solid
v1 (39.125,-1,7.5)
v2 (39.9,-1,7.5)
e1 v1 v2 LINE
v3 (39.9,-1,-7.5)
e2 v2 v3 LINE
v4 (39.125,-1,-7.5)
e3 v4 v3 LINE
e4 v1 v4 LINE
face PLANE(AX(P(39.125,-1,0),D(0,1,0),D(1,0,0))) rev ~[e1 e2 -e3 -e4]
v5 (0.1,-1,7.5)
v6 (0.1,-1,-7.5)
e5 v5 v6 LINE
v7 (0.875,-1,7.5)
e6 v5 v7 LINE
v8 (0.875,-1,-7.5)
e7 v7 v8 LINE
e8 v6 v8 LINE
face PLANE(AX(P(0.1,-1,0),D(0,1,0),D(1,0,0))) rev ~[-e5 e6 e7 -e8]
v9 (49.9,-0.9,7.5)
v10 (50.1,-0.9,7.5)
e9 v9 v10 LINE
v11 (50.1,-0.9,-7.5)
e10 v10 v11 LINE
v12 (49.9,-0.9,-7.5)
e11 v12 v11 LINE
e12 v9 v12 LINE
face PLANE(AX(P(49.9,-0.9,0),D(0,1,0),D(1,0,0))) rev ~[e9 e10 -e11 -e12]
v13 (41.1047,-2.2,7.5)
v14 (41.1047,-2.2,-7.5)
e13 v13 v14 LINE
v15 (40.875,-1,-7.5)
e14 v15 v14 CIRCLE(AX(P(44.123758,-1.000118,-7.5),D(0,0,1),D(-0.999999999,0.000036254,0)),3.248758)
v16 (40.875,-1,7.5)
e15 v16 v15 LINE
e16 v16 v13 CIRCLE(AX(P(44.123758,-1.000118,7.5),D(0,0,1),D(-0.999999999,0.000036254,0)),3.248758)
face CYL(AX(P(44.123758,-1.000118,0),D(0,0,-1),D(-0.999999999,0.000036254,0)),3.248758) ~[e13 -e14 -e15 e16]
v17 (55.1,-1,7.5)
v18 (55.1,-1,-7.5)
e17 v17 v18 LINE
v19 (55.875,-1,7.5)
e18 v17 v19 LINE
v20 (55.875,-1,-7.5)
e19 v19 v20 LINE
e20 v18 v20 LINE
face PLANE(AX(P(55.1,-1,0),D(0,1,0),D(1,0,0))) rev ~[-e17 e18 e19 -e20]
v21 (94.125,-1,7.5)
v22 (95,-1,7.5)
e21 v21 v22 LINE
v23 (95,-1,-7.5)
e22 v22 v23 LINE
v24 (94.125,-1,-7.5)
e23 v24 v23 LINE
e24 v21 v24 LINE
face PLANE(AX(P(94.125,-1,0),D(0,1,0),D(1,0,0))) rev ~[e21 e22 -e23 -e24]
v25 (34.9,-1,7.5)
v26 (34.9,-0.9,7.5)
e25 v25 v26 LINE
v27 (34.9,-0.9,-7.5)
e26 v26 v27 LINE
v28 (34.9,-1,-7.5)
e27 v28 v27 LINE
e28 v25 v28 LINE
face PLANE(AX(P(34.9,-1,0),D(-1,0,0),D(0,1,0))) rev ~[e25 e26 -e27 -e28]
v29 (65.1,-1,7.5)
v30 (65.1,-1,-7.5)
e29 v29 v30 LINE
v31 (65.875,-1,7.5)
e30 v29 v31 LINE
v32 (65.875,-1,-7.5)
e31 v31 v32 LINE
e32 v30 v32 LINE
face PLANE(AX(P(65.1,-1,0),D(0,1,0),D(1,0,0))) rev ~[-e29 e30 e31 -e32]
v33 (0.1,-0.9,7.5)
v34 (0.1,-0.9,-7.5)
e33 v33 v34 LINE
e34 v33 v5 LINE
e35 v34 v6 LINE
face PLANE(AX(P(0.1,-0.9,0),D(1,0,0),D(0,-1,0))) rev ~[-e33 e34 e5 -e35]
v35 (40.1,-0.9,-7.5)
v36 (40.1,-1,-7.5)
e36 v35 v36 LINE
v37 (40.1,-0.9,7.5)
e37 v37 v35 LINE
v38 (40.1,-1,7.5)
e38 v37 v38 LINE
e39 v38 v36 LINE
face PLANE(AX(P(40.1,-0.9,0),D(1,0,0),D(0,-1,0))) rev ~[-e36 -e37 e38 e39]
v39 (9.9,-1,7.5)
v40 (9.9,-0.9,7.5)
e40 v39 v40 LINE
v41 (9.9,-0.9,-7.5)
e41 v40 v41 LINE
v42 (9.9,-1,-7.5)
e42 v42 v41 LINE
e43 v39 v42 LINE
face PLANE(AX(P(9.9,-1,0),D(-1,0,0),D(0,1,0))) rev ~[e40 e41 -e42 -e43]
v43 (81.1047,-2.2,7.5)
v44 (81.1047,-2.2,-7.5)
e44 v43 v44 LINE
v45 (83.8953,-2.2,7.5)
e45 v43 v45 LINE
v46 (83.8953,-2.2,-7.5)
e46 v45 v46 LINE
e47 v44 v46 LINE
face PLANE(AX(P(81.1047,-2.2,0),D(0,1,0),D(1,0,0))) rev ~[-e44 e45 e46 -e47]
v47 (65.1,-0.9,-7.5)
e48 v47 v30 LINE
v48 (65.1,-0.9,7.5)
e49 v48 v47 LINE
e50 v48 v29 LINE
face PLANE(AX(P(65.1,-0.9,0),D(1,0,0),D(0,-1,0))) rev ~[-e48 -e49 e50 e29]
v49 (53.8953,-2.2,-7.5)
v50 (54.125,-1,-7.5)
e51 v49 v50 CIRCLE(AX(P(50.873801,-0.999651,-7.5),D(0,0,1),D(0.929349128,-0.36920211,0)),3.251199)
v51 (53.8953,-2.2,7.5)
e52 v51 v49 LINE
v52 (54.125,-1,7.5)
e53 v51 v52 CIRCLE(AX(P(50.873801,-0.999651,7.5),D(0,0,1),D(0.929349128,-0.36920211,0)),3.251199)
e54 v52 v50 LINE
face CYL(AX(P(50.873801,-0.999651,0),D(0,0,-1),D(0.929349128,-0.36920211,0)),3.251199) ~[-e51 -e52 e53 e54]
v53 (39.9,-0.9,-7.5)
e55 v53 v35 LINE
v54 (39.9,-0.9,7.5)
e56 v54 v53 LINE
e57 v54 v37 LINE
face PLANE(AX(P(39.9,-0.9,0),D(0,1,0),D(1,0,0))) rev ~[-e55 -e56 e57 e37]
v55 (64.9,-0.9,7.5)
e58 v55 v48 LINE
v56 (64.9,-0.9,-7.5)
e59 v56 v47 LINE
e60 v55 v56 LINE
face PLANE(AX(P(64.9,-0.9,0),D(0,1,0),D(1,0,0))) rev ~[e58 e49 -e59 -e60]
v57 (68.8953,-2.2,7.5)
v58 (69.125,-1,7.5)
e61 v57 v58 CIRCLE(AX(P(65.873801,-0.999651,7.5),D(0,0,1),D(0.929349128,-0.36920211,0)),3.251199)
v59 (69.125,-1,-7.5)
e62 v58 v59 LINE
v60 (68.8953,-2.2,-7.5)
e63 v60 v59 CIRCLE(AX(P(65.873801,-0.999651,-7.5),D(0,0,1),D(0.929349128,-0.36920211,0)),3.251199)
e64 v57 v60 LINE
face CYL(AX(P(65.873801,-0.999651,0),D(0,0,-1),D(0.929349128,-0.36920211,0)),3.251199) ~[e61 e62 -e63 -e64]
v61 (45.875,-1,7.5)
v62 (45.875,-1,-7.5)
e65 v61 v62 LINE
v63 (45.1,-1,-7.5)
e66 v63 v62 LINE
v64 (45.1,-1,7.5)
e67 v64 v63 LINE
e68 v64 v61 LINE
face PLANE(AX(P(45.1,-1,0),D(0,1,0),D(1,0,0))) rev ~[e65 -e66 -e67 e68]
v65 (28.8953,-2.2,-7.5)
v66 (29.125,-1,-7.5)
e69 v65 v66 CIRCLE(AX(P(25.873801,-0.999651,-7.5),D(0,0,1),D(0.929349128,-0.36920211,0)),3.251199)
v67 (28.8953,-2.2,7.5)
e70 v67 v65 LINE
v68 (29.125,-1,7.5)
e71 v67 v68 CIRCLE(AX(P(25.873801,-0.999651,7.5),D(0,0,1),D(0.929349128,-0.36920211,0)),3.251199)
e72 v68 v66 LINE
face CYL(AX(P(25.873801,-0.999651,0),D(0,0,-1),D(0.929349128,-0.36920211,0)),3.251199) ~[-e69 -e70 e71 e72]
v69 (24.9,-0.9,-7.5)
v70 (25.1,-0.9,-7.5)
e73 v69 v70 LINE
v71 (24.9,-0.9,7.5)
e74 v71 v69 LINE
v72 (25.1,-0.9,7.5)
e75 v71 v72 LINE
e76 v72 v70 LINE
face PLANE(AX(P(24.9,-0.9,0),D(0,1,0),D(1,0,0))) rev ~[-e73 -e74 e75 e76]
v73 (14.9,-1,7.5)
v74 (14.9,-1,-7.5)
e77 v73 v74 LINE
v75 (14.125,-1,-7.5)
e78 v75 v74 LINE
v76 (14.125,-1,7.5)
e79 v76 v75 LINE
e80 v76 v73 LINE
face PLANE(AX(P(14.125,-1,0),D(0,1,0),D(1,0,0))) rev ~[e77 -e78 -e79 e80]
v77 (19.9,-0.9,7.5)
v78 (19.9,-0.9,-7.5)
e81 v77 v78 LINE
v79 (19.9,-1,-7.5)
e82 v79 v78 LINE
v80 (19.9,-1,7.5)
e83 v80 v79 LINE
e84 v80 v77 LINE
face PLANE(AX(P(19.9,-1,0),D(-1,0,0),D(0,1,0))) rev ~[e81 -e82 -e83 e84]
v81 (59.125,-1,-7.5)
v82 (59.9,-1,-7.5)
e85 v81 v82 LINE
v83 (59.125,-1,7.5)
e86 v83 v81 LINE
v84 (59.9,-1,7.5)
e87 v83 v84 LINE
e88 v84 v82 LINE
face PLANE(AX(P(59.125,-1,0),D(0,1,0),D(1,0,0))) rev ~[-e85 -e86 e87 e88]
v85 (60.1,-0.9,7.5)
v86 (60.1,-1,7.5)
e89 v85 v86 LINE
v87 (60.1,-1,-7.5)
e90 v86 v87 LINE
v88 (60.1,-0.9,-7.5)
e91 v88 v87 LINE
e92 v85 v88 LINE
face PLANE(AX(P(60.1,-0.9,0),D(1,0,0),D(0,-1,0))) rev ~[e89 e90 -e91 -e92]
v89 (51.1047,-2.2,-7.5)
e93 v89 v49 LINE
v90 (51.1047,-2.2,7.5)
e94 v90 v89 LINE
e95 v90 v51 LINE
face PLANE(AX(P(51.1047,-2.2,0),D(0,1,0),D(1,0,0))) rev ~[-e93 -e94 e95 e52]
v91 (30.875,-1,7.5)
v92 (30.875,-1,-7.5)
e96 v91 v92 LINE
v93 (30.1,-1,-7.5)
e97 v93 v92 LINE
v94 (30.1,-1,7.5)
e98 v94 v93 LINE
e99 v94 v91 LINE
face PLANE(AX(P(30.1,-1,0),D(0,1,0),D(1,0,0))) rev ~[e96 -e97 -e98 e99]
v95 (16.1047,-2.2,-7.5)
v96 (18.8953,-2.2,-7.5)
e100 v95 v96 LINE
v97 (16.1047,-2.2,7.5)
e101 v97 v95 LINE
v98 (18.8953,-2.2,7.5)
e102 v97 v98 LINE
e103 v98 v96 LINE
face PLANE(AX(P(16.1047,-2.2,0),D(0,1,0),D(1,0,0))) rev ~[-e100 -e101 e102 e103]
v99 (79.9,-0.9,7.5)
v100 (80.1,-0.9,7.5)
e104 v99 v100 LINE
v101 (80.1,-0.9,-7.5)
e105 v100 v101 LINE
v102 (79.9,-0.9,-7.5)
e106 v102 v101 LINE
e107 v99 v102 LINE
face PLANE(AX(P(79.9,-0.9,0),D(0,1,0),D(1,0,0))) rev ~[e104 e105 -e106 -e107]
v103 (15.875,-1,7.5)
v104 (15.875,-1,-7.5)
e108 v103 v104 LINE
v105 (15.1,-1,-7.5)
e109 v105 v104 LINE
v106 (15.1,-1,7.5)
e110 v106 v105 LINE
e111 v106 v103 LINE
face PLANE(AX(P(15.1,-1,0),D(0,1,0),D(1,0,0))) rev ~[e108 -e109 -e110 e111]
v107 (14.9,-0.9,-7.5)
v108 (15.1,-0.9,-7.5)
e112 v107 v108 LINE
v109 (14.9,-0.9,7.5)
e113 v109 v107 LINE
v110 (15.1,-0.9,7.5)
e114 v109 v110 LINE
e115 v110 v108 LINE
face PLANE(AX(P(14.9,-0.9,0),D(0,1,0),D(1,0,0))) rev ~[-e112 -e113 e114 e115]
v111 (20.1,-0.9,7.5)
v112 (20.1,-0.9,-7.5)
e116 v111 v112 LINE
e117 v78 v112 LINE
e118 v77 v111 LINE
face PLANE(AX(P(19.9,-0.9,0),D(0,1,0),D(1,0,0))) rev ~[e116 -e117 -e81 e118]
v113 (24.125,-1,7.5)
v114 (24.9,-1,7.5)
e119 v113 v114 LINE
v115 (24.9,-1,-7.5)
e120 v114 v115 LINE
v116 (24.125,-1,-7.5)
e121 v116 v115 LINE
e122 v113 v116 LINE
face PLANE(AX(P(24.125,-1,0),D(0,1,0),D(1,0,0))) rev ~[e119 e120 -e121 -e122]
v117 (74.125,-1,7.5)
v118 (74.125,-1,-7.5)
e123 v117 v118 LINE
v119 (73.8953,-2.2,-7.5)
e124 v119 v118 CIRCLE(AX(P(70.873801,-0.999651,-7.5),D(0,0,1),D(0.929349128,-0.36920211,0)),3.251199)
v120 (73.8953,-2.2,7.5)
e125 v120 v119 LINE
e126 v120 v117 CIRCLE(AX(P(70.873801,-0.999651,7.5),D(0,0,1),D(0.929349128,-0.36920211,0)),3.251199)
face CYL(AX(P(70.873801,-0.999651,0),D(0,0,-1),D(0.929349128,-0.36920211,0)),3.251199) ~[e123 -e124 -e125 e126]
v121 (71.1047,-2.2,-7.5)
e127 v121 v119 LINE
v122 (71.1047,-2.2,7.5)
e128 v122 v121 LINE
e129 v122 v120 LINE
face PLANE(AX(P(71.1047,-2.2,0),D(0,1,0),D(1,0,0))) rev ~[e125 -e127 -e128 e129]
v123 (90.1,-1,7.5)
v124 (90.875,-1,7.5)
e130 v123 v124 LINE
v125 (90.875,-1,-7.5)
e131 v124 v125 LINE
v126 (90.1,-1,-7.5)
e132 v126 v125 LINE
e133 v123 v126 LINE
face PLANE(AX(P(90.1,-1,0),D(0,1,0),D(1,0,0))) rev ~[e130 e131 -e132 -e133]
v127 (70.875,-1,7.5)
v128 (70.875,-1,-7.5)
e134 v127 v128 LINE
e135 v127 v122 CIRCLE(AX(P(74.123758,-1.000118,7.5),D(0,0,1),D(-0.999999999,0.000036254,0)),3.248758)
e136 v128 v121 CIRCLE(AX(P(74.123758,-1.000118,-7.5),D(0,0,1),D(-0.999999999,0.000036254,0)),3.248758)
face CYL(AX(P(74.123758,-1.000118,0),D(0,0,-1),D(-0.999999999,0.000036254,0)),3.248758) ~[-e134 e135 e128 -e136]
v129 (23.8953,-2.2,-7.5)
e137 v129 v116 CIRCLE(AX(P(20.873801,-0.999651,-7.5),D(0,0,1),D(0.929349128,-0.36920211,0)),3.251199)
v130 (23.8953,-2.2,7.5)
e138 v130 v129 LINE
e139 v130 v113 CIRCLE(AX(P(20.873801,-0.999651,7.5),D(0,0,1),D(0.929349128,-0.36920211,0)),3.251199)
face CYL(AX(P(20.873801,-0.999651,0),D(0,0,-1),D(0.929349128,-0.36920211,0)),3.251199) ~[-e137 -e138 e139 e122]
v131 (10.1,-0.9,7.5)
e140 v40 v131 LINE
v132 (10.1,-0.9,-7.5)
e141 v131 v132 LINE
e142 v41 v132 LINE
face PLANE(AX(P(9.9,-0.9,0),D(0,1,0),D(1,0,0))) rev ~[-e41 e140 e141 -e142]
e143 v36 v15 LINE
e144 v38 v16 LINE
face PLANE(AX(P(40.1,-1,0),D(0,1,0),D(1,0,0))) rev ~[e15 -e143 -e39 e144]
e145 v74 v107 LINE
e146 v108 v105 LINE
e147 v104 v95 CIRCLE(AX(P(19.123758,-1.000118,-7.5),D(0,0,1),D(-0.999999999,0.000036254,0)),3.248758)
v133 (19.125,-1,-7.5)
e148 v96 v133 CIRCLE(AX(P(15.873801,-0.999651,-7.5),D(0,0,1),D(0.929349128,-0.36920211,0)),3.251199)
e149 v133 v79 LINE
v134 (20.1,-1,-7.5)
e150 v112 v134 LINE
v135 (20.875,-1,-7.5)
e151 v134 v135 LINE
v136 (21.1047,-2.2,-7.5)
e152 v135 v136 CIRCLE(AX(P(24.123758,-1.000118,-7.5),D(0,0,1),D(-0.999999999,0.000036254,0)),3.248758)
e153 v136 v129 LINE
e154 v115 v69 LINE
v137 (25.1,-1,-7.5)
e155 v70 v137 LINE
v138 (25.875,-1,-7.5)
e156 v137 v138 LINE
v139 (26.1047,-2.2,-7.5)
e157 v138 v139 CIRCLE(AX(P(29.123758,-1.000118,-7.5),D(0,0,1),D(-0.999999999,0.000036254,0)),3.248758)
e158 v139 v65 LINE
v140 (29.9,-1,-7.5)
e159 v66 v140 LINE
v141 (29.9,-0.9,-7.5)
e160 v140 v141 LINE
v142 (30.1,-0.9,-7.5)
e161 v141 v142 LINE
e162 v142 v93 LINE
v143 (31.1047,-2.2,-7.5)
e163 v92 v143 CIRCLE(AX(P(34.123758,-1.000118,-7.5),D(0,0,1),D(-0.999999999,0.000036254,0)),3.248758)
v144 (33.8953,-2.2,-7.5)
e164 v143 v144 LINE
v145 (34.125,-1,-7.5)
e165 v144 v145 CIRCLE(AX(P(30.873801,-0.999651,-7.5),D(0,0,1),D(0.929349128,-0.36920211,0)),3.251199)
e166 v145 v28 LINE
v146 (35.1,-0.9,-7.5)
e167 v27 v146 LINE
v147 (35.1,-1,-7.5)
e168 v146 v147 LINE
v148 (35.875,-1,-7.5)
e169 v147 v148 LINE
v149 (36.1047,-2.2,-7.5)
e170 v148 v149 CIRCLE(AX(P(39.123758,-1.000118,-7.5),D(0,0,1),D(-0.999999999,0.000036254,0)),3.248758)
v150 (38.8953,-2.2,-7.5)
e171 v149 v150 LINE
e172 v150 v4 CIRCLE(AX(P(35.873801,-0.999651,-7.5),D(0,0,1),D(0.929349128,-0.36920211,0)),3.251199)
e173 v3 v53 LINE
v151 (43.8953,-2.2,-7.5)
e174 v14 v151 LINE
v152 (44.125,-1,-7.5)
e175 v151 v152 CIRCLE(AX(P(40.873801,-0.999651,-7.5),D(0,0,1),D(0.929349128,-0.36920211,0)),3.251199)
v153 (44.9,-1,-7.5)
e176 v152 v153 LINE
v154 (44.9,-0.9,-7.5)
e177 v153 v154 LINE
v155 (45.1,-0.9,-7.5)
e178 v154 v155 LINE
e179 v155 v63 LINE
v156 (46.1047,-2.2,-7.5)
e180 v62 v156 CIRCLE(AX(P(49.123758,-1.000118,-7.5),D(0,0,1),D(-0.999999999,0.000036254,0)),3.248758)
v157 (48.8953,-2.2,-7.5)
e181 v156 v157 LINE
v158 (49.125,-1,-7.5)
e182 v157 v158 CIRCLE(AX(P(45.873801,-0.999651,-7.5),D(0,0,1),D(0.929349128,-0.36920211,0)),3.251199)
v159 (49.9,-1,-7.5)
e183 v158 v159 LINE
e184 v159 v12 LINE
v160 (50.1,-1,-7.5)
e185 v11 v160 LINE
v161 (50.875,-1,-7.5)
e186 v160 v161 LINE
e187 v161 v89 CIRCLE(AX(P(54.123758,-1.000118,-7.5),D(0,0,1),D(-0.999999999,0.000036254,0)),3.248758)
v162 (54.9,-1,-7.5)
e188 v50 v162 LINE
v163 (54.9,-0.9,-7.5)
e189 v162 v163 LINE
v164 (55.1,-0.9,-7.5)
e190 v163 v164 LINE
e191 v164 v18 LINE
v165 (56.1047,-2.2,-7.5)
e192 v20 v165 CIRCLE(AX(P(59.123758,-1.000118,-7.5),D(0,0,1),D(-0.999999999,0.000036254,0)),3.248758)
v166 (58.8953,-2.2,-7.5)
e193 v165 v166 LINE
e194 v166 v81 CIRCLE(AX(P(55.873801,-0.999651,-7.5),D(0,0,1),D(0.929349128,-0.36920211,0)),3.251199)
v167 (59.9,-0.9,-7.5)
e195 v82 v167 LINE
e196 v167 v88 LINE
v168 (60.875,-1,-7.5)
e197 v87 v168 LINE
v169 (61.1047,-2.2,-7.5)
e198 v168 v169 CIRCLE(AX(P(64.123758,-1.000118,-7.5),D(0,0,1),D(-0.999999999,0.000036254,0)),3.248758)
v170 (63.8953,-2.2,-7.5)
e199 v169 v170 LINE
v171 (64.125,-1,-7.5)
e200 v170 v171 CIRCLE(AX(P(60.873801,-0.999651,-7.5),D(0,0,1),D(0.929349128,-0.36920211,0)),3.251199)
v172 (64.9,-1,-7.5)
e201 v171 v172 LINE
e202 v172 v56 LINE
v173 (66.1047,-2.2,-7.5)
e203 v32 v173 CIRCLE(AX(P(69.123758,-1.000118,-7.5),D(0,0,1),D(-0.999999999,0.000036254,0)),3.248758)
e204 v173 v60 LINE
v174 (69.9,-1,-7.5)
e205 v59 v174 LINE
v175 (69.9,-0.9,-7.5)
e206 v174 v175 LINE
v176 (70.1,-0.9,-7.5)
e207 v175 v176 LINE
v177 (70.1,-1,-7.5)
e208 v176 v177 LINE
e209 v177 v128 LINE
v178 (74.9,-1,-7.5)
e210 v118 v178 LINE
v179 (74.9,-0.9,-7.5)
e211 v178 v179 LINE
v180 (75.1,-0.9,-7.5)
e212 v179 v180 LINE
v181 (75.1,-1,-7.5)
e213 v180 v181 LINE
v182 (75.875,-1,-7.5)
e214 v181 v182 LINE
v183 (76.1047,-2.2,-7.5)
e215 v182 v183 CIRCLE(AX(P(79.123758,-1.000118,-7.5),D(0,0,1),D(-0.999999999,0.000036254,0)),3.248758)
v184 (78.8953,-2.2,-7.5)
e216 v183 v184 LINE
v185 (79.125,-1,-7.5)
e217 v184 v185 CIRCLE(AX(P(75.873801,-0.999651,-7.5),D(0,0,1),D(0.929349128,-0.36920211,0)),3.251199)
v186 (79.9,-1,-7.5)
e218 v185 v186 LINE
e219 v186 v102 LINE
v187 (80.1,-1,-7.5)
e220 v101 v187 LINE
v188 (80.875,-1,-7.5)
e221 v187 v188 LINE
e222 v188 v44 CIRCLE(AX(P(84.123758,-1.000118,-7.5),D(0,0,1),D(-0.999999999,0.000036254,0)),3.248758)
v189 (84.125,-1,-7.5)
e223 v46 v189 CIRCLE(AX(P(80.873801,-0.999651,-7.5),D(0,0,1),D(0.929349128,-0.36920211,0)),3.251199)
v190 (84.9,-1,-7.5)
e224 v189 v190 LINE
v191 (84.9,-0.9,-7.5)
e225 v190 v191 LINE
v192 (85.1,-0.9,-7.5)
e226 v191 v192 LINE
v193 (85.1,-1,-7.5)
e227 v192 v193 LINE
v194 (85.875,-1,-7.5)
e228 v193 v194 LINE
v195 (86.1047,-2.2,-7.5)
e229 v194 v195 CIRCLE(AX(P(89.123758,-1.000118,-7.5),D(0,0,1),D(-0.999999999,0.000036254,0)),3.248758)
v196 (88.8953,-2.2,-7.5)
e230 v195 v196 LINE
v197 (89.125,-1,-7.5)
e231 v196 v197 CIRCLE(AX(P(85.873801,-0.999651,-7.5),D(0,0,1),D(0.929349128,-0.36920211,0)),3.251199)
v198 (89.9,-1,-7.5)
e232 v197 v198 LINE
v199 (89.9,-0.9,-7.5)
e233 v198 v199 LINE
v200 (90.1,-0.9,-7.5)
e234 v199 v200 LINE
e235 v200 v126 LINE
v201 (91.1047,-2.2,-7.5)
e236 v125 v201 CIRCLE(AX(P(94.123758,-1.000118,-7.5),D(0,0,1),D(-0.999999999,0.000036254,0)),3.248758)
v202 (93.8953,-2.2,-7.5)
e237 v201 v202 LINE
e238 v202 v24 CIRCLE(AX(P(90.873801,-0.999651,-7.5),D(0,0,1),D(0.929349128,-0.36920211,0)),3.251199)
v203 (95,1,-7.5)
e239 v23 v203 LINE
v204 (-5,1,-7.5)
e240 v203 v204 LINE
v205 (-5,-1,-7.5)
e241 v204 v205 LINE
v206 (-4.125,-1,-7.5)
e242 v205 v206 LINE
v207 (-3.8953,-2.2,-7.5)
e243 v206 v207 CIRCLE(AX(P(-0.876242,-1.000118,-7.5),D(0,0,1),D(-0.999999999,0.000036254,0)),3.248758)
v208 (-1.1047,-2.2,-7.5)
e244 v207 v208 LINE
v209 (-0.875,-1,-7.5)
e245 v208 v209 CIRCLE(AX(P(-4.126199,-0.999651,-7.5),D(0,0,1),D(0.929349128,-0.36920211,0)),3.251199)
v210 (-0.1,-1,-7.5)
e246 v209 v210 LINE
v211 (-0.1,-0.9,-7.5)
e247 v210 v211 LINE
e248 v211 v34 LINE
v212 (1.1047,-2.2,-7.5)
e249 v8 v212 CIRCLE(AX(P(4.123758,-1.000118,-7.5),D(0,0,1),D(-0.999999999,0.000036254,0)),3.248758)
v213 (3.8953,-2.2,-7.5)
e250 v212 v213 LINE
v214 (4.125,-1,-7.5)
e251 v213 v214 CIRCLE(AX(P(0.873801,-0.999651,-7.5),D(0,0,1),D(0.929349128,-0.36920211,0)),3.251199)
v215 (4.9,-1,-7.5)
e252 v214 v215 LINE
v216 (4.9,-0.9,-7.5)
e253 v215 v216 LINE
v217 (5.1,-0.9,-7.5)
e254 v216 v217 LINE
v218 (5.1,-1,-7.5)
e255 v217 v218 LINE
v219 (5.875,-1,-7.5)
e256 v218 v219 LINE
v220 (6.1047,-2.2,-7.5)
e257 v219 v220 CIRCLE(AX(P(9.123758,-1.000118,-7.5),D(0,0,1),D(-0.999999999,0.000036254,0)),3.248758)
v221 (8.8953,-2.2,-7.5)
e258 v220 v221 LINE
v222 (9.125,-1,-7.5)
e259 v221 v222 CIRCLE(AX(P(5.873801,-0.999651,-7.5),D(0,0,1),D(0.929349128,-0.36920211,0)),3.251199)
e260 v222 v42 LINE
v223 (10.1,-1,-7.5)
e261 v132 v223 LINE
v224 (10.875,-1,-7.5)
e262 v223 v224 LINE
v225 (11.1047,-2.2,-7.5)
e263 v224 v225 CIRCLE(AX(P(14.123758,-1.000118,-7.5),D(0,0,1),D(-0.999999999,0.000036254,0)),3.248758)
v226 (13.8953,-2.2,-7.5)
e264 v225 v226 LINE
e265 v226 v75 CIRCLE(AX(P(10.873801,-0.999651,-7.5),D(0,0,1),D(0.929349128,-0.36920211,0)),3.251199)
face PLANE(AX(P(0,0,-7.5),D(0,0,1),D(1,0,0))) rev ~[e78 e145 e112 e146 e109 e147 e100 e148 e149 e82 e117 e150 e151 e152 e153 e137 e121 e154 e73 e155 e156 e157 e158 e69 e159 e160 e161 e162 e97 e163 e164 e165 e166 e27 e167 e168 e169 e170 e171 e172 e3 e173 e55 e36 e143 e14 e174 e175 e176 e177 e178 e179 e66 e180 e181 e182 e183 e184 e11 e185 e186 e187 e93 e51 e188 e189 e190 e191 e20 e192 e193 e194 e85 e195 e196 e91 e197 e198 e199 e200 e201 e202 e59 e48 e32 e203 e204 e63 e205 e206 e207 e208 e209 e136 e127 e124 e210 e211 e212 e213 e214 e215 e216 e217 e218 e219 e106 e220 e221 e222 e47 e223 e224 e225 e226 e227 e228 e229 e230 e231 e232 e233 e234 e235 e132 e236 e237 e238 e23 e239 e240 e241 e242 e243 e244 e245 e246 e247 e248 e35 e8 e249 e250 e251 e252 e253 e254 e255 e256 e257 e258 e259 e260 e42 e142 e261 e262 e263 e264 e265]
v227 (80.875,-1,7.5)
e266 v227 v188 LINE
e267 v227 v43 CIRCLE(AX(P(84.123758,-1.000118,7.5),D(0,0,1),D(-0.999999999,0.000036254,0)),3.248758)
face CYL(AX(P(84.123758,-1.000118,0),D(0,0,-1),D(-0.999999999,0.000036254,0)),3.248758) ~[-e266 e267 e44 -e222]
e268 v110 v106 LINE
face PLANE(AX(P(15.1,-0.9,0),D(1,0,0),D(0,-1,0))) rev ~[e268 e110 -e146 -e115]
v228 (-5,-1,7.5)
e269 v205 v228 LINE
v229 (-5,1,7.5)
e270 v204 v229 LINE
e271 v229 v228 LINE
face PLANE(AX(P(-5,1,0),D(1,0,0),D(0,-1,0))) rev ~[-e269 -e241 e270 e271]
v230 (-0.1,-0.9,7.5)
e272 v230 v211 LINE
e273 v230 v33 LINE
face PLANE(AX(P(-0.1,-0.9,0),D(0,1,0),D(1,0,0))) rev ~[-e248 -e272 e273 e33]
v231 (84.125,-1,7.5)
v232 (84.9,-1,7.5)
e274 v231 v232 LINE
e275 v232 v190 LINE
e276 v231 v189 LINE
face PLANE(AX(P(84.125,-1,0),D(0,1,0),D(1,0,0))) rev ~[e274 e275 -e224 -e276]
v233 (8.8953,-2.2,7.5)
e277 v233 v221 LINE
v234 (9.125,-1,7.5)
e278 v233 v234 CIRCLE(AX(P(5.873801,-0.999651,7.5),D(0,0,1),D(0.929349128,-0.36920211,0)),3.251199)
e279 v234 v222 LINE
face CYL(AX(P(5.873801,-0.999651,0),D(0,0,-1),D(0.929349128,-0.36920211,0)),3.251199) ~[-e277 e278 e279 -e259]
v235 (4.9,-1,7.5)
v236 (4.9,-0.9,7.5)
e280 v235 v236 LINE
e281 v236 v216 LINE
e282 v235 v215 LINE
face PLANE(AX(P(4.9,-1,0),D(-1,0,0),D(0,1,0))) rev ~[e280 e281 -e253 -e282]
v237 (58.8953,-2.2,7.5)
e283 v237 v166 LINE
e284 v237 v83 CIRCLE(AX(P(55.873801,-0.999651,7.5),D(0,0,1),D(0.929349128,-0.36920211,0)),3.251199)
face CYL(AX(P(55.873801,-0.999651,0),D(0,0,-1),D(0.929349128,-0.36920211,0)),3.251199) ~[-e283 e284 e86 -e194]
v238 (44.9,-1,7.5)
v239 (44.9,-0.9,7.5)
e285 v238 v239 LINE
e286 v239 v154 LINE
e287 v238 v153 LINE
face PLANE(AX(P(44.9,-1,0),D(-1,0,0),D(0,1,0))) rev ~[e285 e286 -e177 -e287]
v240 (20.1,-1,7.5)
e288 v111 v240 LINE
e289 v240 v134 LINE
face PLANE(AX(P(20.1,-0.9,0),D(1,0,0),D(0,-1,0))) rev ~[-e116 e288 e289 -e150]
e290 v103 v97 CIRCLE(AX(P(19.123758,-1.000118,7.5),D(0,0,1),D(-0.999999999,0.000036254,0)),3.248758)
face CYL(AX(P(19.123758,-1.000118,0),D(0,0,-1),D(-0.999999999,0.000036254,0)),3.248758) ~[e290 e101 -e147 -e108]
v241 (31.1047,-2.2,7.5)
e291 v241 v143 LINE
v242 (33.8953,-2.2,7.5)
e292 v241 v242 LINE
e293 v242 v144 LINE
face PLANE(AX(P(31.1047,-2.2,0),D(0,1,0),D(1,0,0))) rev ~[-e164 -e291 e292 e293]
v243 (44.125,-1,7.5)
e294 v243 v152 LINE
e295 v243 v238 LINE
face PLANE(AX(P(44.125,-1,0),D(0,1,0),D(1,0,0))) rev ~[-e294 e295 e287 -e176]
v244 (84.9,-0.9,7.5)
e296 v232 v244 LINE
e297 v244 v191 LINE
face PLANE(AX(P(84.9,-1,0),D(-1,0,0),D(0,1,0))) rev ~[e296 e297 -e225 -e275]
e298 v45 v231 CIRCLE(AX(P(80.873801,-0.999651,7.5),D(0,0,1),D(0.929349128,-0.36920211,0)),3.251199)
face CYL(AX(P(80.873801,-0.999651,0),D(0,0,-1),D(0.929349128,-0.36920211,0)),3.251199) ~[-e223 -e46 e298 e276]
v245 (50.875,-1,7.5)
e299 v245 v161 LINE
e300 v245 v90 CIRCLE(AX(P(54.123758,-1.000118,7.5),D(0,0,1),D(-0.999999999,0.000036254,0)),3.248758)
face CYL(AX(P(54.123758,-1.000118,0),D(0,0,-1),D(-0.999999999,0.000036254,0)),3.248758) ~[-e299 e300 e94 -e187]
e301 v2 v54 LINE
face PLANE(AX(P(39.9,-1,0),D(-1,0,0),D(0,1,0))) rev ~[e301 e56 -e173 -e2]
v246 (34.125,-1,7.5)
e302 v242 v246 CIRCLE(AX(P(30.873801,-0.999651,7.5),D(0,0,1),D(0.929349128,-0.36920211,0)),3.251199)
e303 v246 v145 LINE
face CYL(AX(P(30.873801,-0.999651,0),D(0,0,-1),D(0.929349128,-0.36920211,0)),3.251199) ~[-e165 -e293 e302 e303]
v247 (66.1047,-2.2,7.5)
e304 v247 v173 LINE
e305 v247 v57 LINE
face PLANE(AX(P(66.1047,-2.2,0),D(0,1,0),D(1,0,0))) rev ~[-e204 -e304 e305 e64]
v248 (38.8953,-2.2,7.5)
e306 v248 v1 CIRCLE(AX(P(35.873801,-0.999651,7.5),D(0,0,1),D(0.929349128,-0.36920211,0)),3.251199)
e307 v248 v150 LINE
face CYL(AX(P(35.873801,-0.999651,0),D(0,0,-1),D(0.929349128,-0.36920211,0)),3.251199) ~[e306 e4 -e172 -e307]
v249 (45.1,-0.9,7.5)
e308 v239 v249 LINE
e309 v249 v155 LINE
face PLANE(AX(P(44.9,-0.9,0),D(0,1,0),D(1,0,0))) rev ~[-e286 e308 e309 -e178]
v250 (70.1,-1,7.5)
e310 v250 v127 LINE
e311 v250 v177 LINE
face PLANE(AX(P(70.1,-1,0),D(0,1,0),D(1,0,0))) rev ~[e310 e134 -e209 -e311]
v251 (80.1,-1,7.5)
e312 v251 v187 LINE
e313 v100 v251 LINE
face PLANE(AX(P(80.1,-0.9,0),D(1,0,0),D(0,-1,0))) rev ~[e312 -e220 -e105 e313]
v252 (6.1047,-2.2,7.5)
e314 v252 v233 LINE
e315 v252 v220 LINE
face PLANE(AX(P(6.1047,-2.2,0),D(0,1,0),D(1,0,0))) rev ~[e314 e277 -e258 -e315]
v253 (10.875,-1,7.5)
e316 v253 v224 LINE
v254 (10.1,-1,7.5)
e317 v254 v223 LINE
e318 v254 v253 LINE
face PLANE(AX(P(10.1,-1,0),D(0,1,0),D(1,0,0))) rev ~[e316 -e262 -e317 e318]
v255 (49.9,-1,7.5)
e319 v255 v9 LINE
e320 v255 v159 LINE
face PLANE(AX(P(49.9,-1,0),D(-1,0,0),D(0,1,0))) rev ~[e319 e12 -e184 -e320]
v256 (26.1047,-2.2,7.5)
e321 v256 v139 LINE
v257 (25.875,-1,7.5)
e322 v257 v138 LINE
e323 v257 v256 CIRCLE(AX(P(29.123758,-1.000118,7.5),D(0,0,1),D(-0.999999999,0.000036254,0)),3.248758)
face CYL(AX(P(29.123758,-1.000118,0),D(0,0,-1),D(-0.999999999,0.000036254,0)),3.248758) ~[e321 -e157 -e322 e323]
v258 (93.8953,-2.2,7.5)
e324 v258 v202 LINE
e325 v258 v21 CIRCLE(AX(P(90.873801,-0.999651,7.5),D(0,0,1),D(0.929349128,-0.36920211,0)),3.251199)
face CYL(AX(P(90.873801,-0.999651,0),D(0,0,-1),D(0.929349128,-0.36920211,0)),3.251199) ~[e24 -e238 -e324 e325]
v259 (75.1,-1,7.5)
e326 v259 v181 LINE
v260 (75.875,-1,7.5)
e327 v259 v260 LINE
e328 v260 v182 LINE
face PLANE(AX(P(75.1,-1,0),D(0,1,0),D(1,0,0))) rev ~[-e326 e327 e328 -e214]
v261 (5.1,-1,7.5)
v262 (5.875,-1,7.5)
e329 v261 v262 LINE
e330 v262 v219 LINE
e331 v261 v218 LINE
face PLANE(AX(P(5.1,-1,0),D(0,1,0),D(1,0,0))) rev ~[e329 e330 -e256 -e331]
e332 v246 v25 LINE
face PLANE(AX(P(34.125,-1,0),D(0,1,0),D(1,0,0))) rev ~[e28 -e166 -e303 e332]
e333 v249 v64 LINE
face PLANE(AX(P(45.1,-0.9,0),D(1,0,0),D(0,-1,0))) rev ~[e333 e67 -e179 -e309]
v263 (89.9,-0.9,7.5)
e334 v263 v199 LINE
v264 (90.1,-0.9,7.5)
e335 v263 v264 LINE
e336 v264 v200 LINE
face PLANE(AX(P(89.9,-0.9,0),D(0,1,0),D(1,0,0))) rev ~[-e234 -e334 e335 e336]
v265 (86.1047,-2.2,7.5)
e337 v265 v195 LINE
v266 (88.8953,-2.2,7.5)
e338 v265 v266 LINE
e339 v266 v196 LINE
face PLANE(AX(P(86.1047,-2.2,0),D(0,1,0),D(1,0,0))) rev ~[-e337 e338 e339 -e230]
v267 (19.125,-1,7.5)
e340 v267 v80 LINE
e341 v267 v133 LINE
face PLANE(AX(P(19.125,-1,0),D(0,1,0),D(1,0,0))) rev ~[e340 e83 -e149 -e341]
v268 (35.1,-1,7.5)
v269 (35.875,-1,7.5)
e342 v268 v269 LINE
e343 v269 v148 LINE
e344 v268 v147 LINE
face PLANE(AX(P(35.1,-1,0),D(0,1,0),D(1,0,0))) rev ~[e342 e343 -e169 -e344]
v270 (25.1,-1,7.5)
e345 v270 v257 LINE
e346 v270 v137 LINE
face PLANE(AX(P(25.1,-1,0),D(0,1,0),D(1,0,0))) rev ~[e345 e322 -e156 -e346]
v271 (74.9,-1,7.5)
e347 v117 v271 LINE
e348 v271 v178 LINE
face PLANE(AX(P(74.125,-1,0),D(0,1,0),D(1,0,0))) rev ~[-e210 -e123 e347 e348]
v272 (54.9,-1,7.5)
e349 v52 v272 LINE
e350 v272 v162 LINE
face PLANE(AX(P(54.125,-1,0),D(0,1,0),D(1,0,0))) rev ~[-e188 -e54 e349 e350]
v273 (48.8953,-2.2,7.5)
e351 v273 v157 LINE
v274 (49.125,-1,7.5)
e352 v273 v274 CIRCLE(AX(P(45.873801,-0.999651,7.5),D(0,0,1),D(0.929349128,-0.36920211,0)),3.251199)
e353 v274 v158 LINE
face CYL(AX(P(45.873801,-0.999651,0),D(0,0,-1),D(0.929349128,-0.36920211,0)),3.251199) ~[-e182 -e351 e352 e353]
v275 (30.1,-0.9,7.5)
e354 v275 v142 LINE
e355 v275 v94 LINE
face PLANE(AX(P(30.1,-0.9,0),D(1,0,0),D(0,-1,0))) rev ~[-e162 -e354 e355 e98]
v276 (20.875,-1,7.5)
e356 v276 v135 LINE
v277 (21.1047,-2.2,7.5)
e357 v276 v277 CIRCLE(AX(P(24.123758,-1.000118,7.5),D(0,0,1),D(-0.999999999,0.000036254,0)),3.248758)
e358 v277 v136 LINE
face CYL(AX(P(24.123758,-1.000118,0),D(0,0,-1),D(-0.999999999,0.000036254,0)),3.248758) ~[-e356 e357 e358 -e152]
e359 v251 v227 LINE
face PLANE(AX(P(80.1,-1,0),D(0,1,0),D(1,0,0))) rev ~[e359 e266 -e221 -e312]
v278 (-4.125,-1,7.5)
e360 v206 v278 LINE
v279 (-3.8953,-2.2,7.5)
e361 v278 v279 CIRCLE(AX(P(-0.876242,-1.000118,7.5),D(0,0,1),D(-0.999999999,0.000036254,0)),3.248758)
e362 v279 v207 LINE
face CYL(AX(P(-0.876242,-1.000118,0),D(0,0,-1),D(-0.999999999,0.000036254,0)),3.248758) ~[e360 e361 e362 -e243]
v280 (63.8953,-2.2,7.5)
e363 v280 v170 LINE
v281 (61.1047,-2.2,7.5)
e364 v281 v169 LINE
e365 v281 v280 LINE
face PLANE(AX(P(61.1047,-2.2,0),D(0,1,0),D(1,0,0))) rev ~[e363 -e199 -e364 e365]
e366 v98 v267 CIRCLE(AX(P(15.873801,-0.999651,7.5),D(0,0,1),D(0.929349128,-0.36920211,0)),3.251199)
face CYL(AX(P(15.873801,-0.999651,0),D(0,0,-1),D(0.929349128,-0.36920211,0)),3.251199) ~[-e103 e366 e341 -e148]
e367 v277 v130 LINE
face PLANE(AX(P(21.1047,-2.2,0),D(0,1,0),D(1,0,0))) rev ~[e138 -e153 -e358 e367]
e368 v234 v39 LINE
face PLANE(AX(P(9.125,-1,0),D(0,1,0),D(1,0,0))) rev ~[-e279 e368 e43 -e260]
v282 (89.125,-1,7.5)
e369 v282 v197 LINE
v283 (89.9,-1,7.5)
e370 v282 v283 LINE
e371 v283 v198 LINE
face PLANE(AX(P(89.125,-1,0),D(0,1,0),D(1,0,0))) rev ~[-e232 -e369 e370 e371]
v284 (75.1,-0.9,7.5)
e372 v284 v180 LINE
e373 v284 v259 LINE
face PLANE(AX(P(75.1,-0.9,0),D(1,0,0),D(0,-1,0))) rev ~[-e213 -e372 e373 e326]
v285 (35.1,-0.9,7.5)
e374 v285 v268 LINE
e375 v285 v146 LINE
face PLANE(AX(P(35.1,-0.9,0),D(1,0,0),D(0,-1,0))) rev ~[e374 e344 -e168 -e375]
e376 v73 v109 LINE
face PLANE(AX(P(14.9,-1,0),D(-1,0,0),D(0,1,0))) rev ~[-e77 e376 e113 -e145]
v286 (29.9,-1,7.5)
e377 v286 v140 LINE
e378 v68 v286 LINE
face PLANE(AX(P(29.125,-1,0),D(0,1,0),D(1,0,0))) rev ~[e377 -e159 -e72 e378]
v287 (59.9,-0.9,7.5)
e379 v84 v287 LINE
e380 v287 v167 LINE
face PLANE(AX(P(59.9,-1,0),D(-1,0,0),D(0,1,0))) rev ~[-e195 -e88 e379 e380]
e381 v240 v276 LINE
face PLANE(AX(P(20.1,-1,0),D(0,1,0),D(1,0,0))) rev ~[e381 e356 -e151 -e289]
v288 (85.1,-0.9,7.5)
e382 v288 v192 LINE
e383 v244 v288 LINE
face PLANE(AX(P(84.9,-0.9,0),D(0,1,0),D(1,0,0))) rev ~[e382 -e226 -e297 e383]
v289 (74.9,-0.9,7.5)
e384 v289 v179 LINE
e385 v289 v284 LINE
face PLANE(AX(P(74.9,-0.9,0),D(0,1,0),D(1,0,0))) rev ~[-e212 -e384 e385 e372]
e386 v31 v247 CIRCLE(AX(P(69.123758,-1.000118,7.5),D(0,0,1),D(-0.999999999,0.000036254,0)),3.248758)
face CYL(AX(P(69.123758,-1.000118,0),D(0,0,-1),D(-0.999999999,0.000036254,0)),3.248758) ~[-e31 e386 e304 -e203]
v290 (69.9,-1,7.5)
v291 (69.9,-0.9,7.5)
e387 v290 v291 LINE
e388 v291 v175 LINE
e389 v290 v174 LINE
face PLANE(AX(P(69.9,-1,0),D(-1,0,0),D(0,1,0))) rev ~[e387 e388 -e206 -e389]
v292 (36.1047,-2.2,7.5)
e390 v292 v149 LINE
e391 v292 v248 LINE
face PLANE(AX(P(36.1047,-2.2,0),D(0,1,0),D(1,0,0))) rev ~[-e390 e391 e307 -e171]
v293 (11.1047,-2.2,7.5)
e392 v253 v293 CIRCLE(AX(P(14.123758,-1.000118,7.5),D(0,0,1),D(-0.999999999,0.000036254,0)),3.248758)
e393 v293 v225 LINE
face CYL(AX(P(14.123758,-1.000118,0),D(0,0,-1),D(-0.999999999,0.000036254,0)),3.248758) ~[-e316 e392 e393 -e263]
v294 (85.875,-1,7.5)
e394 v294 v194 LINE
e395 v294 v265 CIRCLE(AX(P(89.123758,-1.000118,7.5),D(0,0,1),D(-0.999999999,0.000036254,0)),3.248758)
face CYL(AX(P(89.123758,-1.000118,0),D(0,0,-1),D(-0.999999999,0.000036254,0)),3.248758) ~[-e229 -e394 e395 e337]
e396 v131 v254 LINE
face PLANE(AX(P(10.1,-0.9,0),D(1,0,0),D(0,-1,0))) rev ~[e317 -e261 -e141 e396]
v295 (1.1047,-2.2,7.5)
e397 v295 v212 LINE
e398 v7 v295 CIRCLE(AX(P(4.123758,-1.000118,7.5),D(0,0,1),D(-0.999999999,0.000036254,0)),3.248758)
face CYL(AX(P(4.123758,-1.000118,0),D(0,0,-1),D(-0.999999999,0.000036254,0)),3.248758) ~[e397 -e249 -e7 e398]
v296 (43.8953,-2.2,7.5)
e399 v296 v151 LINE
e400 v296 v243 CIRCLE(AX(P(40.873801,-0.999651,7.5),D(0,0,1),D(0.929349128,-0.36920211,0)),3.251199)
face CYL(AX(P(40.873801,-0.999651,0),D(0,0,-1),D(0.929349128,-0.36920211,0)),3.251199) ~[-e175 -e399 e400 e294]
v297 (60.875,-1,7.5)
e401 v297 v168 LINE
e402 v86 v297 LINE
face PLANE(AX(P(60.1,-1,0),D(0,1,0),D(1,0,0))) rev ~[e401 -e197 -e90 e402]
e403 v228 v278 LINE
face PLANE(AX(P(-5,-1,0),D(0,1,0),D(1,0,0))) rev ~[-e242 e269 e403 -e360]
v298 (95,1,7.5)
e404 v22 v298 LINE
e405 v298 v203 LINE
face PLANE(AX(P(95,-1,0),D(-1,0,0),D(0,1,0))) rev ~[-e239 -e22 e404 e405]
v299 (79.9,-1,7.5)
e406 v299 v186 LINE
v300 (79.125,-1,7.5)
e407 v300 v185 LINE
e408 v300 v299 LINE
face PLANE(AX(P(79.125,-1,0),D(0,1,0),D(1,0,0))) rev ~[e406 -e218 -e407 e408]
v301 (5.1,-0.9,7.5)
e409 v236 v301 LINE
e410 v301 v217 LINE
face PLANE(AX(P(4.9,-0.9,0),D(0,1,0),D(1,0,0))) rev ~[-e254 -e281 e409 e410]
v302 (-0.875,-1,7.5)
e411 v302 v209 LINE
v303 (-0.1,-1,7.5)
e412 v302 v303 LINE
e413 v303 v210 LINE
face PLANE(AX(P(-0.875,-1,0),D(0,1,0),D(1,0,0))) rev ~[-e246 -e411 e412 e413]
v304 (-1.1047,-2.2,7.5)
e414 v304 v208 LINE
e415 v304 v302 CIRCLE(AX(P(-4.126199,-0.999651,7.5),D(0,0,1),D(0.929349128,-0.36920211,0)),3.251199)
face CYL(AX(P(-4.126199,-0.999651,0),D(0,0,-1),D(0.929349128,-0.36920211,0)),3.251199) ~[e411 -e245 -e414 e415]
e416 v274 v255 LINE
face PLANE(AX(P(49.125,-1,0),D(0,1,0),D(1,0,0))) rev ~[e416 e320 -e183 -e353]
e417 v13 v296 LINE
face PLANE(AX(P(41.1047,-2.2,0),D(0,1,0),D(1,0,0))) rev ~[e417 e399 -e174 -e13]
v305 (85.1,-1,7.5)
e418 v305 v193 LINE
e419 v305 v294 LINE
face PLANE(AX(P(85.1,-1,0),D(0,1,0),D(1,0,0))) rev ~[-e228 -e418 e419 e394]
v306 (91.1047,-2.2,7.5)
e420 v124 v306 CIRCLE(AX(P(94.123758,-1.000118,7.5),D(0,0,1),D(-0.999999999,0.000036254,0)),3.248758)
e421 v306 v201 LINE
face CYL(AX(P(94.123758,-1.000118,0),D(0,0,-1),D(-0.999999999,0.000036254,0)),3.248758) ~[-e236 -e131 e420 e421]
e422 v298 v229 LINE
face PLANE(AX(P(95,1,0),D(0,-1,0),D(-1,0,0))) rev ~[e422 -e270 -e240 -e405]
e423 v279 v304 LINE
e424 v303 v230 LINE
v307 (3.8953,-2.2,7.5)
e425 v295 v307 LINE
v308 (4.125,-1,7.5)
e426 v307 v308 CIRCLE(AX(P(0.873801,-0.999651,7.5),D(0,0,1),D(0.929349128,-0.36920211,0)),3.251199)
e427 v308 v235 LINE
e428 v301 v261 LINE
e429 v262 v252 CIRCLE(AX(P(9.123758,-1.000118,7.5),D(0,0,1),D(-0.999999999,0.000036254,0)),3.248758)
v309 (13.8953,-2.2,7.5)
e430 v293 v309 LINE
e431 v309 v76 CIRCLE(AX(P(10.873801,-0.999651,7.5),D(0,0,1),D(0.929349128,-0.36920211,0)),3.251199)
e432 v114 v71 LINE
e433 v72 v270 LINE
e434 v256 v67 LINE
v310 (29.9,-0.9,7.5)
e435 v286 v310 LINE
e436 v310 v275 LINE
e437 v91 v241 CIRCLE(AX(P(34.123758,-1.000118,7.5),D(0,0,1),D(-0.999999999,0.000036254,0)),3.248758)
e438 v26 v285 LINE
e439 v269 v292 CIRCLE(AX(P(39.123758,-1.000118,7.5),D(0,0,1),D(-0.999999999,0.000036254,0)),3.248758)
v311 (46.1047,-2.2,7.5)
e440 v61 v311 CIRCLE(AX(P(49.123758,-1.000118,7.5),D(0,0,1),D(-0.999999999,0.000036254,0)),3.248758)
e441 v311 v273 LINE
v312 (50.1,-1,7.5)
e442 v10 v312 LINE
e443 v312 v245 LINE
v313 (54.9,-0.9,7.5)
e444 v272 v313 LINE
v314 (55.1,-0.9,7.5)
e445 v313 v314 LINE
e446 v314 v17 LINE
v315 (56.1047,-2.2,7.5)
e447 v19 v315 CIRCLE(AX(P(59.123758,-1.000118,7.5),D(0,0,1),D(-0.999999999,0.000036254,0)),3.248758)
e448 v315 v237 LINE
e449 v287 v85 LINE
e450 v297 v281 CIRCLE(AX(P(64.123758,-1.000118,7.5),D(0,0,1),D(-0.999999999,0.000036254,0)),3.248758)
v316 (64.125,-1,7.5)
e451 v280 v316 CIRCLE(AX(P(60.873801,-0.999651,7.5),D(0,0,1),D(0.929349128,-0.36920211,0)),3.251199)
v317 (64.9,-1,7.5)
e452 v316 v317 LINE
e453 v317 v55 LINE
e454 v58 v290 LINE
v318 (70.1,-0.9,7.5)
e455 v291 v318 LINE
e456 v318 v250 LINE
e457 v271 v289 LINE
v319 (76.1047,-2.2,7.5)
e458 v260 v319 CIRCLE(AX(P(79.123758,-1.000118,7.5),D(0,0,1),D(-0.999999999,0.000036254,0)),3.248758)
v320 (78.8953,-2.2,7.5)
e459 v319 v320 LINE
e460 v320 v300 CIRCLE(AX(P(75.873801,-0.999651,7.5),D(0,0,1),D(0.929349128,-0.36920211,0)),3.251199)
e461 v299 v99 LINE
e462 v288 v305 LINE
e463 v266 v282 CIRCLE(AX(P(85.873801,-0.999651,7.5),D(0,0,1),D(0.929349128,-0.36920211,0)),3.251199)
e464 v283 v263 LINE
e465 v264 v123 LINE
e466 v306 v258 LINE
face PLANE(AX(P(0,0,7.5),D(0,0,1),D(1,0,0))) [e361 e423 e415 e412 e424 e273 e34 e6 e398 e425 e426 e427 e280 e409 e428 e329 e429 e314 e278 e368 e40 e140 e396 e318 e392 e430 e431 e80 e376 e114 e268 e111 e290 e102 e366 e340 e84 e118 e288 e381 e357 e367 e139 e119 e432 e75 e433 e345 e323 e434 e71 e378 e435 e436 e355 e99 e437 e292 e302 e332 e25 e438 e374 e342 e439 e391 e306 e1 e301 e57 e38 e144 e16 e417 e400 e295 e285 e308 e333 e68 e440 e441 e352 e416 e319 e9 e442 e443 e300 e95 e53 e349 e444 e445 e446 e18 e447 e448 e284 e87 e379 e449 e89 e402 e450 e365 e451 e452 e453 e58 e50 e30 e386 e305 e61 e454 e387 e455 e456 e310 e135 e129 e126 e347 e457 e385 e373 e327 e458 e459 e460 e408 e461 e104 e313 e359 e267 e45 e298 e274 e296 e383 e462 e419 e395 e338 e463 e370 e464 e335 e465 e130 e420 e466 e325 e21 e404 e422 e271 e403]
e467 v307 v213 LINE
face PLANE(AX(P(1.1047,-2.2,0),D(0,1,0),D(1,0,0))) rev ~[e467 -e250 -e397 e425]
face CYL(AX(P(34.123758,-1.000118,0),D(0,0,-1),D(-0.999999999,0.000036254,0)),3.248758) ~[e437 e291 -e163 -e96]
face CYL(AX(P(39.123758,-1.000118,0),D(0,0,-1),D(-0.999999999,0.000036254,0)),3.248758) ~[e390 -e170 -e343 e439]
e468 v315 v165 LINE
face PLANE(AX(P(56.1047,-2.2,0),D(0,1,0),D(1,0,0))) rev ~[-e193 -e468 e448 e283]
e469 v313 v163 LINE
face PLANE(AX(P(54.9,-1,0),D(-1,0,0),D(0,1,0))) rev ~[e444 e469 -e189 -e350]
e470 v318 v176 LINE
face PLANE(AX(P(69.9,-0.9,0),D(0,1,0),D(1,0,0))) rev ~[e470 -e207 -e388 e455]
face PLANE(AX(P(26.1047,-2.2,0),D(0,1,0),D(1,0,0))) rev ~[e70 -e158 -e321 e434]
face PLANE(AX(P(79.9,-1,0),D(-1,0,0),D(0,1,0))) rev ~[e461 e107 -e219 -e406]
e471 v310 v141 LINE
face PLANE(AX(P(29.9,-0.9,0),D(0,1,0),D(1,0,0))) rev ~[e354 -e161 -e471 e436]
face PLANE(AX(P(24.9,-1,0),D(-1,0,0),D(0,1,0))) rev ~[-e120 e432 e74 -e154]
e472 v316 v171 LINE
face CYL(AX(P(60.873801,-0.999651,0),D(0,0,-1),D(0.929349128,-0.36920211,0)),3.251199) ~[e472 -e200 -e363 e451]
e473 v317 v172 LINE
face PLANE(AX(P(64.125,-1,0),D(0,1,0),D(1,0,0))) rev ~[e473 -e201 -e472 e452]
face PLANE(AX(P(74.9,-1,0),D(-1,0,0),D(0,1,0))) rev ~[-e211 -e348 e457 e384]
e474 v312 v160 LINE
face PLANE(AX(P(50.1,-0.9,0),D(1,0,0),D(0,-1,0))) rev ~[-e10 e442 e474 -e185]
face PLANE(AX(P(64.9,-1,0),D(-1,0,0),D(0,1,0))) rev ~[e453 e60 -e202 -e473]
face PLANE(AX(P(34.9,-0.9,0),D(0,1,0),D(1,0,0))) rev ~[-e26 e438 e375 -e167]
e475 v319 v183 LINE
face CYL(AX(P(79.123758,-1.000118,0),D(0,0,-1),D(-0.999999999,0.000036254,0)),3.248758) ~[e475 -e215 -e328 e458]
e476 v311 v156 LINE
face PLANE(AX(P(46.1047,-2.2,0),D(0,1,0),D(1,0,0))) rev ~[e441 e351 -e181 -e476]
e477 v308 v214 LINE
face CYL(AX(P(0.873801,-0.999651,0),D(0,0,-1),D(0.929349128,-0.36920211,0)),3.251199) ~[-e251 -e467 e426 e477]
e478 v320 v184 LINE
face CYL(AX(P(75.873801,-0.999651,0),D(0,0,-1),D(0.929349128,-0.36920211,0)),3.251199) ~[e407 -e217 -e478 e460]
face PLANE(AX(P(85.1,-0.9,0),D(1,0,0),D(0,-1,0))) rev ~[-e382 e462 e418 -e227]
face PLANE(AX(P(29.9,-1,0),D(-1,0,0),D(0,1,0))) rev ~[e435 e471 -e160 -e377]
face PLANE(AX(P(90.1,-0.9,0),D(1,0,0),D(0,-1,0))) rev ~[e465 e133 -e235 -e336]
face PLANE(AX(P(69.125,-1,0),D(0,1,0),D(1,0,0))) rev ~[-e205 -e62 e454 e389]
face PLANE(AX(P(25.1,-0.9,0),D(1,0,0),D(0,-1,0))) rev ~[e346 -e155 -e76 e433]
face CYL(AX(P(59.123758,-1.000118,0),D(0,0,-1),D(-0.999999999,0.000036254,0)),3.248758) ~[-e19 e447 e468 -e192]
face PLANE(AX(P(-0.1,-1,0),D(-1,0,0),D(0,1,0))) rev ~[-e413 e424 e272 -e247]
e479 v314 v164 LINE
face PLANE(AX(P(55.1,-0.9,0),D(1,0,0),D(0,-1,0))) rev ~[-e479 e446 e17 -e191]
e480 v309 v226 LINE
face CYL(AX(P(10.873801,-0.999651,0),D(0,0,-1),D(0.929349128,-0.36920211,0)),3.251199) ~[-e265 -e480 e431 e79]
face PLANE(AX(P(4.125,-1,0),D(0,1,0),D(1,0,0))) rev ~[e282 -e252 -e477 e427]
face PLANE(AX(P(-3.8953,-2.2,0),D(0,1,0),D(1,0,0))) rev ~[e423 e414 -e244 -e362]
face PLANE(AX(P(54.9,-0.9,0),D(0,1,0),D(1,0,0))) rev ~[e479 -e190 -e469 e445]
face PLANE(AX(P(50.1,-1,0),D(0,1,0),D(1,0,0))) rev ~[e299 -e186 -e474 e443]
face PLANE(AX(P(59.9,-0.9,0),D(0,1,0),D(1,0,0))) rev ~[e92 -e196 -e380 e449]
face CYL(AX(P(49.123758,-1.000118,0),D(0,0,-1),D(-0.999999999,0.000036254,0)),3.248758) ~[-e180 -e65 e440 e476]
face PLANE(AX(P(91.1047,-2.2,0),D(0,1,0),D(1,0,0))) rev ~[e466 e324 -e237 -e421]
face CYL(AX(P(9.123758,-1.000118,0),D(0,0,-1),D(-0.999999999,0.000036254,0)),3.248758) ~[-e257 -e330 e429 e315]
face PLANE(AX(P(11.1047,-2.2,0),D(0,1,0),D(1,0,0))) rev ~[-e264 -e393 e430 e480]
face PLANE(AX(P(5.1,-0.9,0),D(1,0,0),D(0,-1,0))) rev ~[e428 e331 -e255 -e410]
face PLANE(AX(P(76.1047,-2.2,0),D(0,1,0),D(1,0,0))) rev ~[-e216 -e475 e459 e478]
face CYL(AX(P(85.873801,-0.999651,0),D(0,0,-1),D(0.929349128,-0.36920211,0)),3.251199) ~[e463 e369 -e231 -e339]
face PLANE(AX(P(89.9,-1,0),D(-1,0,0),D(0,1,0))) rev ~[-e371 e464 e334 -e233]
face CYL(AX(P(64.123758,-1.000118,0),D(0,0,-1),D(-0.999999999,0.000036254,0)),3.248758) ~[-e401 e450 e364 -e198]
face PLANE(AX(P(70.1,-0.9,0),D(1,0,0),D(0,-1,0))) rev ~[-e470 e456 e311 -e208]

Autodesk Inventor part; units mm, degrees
ref_plane "YZ Plane" through (0, 0, 0) normal (1, 0, 0) x (0, 1, 0)
ref_plane "XZ Plane" through (0, 0, 0) normal (0, 1, 0) x (-1, 0, 0)
ref_plane "XY Plane" through (0, 0, 0) normal (0, 0, 1) x (1, 0, 0)
sketch "Sketch_1" plane through (0, 0, 0) normal (0, 0, 1) x (1, 0, 0)
  line L0 (-5, 1) -> (-5, -1)
  line L1 (-5, -1) -> (-4.125, -1)
  arc A0 (-4.125, -1) -> (-3.8953, -2.2) centre (-0.875, -1) ccw
  line L2 (-3.8953, -2.2) -> (-1.1047, -2.2)
  arc A1 (-1.1047, -2.2) -> (-0.875, -1) centre (-4.125, -1) ccw
  line L3 (-0.875, -1) -> (-0.1, -1)
  line L4 (-0.1, -1) -> (-0.1, -0.9)
  line L5 (-0.1, -0.9) -> (0.1, -0.9)
  line L6 (0.1, -0.9) -> (0.1, -1)
  line L7 (0.1, -1) -> (0.875, -1)
  arc A2 (0.875, -1) -> (1.1047, -2.2) centre (4.125, -1) ccw
  line L8 (1.1047, -2.2) -> (3.8953, -2.2)
  arc A3 (3.8953, -2.2) -> (4.125, -1) centre (0.875, -1) ccw
  line L9 (4.125, -1) -> (4.9, -1)
  line L10 (4.9, -1) -> (4.9, -0.9)
  line L11 (4.9, -0.9) -> (5.1, -0.9)
  line L12 (5.1, -0.9) -> (5.1, -1)
  line L13 (5.1, -1) -> (5.875, -1)
  arc A4 (5.875, -1) -> (6.1047, -2.2) centre (9.125, -1) ccw
  line L14 (6.1047, -2.2) -> (8.8953, -2.2)
  arc A5 (8.8953, -2.2) -> (9.125, -1) centre (5.875, -1) ccw
  line L15 (9.125, -1) -> (9.9, -1)
  line L16 (9.9, -1) -> (9.9, -0.9)
  line L17 (9.9, -0.9) -> (10.1, -0.9)
  line L18 (10.1, -0.9) -> (10.1, -1)
  line L19 (10.1, -1) -> (10.875, -1)
  arc A6 (10.875, -1) -> (11.1047, -2.2) centre (14.125, -1) ccw
  line L20 (11.1047, -2.2) -> (13.8953, -2.2)
  arc A7 (13.8953, -2.2) -> (14.125, -1) centre (10.875, -1) ccw
  line L21 (14.125, -1) -> (14.9, -1)
  line L22 (14.9, -1) -> (14.9, -0.9)
  line L23 (14.9, -0.9) -> (15.1, -0.9)
  line L24 (15.1, -0.9) -> (15.1, -1)
  line L25 (15.1, -1) -> (15.875, -1)
  arc A8 (15.875, -1) -> (16.1047, -2.2) centre (19.125, -1) ccw
  line L26 (16.1047, -2.2) -> (18.8953, -2.2)
  arc A9 (18.8953, -2.2) -> (19.125, -1) centre (15.875, -1) ccw
  line L27 (19.125, -1) -> (19.9, -1)
  line L28 (19.9, -1) -> (19.9, -0.9)
  line L29 (19.9, -0.9) -> (20.1, -0.9)
  line L30 (20.1, -0.9) -> (20.1, -1)
  line L31 (20.1, -1) -> (20.875, -1)
  arc A10 (20.875, -1) -> (21.1047, -2.2) centre (24.125, -1) ccw
  line L32 (21.1047, -2.2) -> (23.8953, -2.2)
  arc A11 (23.8953, -2.2) -> (24.125, -1) centre (20.875, -1) ccw
  line L33 (24.125, -1) -> (24.9, -1)
  line L34 (24.9, -1) -> (24.9, -0.9)
  line L35 (24.9, -0.9) -> (25.1, -0.9)
  line L36 (25.1, -0.9) -> (25.1, -1)
  line L37 (25.1, -1) -> (25.875, -1)
  arc A12 (25.875, -1) -> (26.1047, -2.2) centre (29.125, -1) ccw
  line L38 (26.1047, -2.2) -> (28.8953, -2.2)
  arc A13 (28.8953, -2.2) -> (29.125, -1) centre (25.875, -1) ccw
  line L39 (29.125, -1) -> (29.9, -1)
  line L40 (29.9, -1) -> (29.9, -0.9)
  line L41 (29.9, -0.9) -> (30.1, -0.9)
  line L42 (30.1, -0.9) -> (30.1, -1)
  line L43 (30.1, -1) -> (30.875, -1)
  arc A14 (30.875, -1) -> (31.1047, -2.2) centre (34.125, -1) ccw
  line L44 (31.1047, -2.2) -> (33.8953, -2.2)
  arc A15 (33.8953, -2.2) -> (34.125, -1) centre (30.875, -1) ccw
  line L45 (34.125, -1) -> (34.9, -1)
  line L46 (34.9, -1) -> (34.9, -0.9)
  line L47 (34.9, -0.9) -> (35.1, -0.9)
  line L48 (35.1, -0.9) -> (35.1, -1)
  line L49 (35.1, -1) -> (35.875, -1)
  arc A16 (35.875, -1) -> (36.1047, -2.2) centre (39.125, -1) ccw
  line L50 (36.1047, -2.2) -> (38.8953, -2.2)
  arc A17 (38.8953, -2.2) -> (39.125, -1) centre (35.875, -1) ccw
  line L51 (39.125, -1) -> (39.9, -1)
  line L52 (39.9, -1) -> (39.9, -0.9)
  line L53 (39.9, -0.9) -> (40.1, -0.9)
  line L54 (40.1, -0.9) -> (40.1, -1)
  line L55 (40.1, -1) -> (40.875, -1)
  arc A18 (40.875, -1) -> (41.1047, -2.2) centre (44.125, -1) ccw
  line L56 (41.1047, -2.2) -> (43.8953, -2.2)
  arc A19 (43.8953, -2.2) -> (44.125, -1) centre (40.875, -1) ccw
  line L57 (44.125, -1) -> (44.9, -1)
  line L58 (44.9, -1) -> (44.9, -0.9)
  line L59 (44.9, -0.9) -> (45.1, -0.9)
  line L60 (45.1, -0.9) -> (45.1, -1)
  line L61 (45.1, -1) -> (45.875, -1)
  arc A20 (45.875, -1) -> (46.1047, -2.2) centre (49.125, -1) ccw
  line L62 (46.1047, -2.2) -> (48.8953, -2.2)
  arc A21 (48.8953, -2.2) -> (49.125, -1) centre (45.875, -1) ccw
  line L63 (49.125, -1) -> (49.9, -1)
  line L64 (49.9, -1) -> (49.9, -0.9)
  line L65 (49.9, -0.9) -> (50.1, -0.9)
  line L66 (50.1, -0.9) -> (50.1, -1)
  line L67 (50.1, -1) -> (50.875, -1)
  arc A22 (50.875, -1) -> (51.1047, -2.2) centre (54.125, -1) ccw
  line L68 (51.1047, -2.2) -> (53.8953, -2.2)
  arc A23 (53.8953, -2.2) -> (54.125, -1) centre (50.875, -1) ccw
  line L69 (54.125, -1) -> (54.9, -1)
  line L70 (54.9, -1) -> (54.9, -0.9)
  line L71 (54.9, -0.9) -> (55.1, -0.9)
  line L72 (55.1, -0.9) -> (55.1, -1)
  line L73 (55.1, -1) -> (55.875, -1)
  arc A24 (55.875, -1) -> (56.1047, -2.2) centre (59.125, -1) ccw
  line L74 (56.1047, -2.2) -> (58.8953, -2.2)
  arc A25 (58.8953, -2.2) -> (59.125, -1) centre (55.875, -1) ccw
  line L75 (59.125, -1) -> (59.9, -1)
  line L76 (59.9, -1) -> (59.9, -0.9)
  line L77 (59.9, -0.9) -> (60.1, -0.9)
  line L78 (60.1, -0.9) -> (60.1, -1)
  line L79 (60.1, -1) -> (60.875, -1)
  arc A26 (60.875, -1) -> (61.1047, -2.2) centre (64.125, -1) ccw
  line L80 (61.1047, -2.2) -> (63.8953, -2.2)
  arc A27 (63.8953, -2.2) -> (64.125, -1) centre (60.875, -1) ccw
  line L81 (64.125, -1) -> (64.9, -1)
  line L82 (64.9, -1) -> (64.9, -0.9)
  line L83 (64.9, -0.9) -> (65.1, -0.9)
  line L84 (65.1, -0.9) -> (65.1, -1)
  line L85 (65.1, -1) -> (65.875, -1)
  arc A28 (65.875, -1) -> (66.1047, -2.2) centre (69.125, -1) ccw
  line L86 (66.1047, -2.2) -> (68.8953, -2.2)
  arc A29 (68.8953, -2.2) -> (69.125, -1) centre (65.875, -1) ccw
  line L87 (69.125, -1) -> (69.9, -1)
  line L88 (69.9, -1) -> (69.9, -0.9)
  line L89 (69.9, -0.9) -> (70.1, -0.9)
  line L90 (70.1, -0.9) -> (70.1, -1)
  line L91 (70.1, -1) -> (70.875, -1)
  arc A30 (70.875, -1) -> (71.1047, -2.2) centre (74.125, -1) ccw
  line L92 (71.1047, -2.2) -> (73.8953, -2.2)
  arc A31 (73.8953, -2.2) -> (74.125, -1) centre (70.875, -1) ccw
  line L93 (74.125, -1) -> (74.9, -1)
  line L94 (74.9, -1) -> (74.9, -0.9)
  line L95 (74.9, -0.9) -> (75.1, -0.9)
  line L96 (75.1, -0.9) -> (75.1, -1)
  line L97 (75.1, -1) -> (75.875, -1)
  arc A32 (75.875, -1) -> (76.1047, -2.2) centre (79.125, -1) ccw
  line L98 (76.1047, -2.2) -> (78.8953, -2.2)
  arc A33 (78.8953, -2.2) -> (79.125, -1) centre (75.875, -1) ccw
  line L99 (79.125, -1) -> (79.9, -1)
  line L100 (79.9, -1) -> (79.9, -0.9)
  line L101 (79.9, -0.9) -> (80.1, -0.9)
  line L102 (80.1, -0.9) -> (80.1, -1)
  line L103 (80.1, -1) -> (80.875, -1)
  arc A34 (80.875, -1) -> (81.1047, -2.2) centre (84.125, -1) ccw
  line L104 (81.1047, -2.2) -> (83.8953, -2.2)
  arc A35 (83.8953, -2.2) -> (84.125, -1) centre (80.875, -1) ccw
  line L105 (84.125, -1) -> (84.9, -1)
  line L106 (84.9, -1) -> (84.9, -0.9)
  line L107 (84.9, -0.9) -> (85.1, -0.9)
  line L108 (85.1, -0.9) -> (85.1, -1)
  line L109 (85.1, -1) -> (85.875, -1)
  arc A36 (85.875, -1) -> (86.1047, -2.2) centre (89.125, -1) ccw
  line L110 (86.1047, -2.2) -> (88.8953, -2.2)
  arc A37 (88.8953, -2.2) -> (89.125, -1) centre (85.875, -1) ccw
  line L111 (89.125, -1) -> (89.9, -1)
  line L112 (89.9, -1) -> (89.9, -0.9)
  line L113 (89.9, -0.9) -> (90.1, -0.9)
  line L114 (90.1, -0.9) -> (90.1, -1)
  line L115 (90.1, -1) -> (90.875, -1)
  arc A38 (90.875, -1) -> (91.1047, -2.2) centre (94.125, -1) ccw
  line L116 (91.1047, -2.2) -> (93.8953, -2.2)
  arc A39 (93.8953, -2.2) -> (94.125, -1) centre (90.875, -1) ccw
  line L117 (94.125, -1) -> (95, -1)
  line L118 (95, -1) -> (95, 1)
  line L119 (95, 1) -> (-5, 1)
extrude "Extrusion1" add sketch "Sketch_1" along normal mid plane 15
properties part number "HTBO-S5M150-616"
